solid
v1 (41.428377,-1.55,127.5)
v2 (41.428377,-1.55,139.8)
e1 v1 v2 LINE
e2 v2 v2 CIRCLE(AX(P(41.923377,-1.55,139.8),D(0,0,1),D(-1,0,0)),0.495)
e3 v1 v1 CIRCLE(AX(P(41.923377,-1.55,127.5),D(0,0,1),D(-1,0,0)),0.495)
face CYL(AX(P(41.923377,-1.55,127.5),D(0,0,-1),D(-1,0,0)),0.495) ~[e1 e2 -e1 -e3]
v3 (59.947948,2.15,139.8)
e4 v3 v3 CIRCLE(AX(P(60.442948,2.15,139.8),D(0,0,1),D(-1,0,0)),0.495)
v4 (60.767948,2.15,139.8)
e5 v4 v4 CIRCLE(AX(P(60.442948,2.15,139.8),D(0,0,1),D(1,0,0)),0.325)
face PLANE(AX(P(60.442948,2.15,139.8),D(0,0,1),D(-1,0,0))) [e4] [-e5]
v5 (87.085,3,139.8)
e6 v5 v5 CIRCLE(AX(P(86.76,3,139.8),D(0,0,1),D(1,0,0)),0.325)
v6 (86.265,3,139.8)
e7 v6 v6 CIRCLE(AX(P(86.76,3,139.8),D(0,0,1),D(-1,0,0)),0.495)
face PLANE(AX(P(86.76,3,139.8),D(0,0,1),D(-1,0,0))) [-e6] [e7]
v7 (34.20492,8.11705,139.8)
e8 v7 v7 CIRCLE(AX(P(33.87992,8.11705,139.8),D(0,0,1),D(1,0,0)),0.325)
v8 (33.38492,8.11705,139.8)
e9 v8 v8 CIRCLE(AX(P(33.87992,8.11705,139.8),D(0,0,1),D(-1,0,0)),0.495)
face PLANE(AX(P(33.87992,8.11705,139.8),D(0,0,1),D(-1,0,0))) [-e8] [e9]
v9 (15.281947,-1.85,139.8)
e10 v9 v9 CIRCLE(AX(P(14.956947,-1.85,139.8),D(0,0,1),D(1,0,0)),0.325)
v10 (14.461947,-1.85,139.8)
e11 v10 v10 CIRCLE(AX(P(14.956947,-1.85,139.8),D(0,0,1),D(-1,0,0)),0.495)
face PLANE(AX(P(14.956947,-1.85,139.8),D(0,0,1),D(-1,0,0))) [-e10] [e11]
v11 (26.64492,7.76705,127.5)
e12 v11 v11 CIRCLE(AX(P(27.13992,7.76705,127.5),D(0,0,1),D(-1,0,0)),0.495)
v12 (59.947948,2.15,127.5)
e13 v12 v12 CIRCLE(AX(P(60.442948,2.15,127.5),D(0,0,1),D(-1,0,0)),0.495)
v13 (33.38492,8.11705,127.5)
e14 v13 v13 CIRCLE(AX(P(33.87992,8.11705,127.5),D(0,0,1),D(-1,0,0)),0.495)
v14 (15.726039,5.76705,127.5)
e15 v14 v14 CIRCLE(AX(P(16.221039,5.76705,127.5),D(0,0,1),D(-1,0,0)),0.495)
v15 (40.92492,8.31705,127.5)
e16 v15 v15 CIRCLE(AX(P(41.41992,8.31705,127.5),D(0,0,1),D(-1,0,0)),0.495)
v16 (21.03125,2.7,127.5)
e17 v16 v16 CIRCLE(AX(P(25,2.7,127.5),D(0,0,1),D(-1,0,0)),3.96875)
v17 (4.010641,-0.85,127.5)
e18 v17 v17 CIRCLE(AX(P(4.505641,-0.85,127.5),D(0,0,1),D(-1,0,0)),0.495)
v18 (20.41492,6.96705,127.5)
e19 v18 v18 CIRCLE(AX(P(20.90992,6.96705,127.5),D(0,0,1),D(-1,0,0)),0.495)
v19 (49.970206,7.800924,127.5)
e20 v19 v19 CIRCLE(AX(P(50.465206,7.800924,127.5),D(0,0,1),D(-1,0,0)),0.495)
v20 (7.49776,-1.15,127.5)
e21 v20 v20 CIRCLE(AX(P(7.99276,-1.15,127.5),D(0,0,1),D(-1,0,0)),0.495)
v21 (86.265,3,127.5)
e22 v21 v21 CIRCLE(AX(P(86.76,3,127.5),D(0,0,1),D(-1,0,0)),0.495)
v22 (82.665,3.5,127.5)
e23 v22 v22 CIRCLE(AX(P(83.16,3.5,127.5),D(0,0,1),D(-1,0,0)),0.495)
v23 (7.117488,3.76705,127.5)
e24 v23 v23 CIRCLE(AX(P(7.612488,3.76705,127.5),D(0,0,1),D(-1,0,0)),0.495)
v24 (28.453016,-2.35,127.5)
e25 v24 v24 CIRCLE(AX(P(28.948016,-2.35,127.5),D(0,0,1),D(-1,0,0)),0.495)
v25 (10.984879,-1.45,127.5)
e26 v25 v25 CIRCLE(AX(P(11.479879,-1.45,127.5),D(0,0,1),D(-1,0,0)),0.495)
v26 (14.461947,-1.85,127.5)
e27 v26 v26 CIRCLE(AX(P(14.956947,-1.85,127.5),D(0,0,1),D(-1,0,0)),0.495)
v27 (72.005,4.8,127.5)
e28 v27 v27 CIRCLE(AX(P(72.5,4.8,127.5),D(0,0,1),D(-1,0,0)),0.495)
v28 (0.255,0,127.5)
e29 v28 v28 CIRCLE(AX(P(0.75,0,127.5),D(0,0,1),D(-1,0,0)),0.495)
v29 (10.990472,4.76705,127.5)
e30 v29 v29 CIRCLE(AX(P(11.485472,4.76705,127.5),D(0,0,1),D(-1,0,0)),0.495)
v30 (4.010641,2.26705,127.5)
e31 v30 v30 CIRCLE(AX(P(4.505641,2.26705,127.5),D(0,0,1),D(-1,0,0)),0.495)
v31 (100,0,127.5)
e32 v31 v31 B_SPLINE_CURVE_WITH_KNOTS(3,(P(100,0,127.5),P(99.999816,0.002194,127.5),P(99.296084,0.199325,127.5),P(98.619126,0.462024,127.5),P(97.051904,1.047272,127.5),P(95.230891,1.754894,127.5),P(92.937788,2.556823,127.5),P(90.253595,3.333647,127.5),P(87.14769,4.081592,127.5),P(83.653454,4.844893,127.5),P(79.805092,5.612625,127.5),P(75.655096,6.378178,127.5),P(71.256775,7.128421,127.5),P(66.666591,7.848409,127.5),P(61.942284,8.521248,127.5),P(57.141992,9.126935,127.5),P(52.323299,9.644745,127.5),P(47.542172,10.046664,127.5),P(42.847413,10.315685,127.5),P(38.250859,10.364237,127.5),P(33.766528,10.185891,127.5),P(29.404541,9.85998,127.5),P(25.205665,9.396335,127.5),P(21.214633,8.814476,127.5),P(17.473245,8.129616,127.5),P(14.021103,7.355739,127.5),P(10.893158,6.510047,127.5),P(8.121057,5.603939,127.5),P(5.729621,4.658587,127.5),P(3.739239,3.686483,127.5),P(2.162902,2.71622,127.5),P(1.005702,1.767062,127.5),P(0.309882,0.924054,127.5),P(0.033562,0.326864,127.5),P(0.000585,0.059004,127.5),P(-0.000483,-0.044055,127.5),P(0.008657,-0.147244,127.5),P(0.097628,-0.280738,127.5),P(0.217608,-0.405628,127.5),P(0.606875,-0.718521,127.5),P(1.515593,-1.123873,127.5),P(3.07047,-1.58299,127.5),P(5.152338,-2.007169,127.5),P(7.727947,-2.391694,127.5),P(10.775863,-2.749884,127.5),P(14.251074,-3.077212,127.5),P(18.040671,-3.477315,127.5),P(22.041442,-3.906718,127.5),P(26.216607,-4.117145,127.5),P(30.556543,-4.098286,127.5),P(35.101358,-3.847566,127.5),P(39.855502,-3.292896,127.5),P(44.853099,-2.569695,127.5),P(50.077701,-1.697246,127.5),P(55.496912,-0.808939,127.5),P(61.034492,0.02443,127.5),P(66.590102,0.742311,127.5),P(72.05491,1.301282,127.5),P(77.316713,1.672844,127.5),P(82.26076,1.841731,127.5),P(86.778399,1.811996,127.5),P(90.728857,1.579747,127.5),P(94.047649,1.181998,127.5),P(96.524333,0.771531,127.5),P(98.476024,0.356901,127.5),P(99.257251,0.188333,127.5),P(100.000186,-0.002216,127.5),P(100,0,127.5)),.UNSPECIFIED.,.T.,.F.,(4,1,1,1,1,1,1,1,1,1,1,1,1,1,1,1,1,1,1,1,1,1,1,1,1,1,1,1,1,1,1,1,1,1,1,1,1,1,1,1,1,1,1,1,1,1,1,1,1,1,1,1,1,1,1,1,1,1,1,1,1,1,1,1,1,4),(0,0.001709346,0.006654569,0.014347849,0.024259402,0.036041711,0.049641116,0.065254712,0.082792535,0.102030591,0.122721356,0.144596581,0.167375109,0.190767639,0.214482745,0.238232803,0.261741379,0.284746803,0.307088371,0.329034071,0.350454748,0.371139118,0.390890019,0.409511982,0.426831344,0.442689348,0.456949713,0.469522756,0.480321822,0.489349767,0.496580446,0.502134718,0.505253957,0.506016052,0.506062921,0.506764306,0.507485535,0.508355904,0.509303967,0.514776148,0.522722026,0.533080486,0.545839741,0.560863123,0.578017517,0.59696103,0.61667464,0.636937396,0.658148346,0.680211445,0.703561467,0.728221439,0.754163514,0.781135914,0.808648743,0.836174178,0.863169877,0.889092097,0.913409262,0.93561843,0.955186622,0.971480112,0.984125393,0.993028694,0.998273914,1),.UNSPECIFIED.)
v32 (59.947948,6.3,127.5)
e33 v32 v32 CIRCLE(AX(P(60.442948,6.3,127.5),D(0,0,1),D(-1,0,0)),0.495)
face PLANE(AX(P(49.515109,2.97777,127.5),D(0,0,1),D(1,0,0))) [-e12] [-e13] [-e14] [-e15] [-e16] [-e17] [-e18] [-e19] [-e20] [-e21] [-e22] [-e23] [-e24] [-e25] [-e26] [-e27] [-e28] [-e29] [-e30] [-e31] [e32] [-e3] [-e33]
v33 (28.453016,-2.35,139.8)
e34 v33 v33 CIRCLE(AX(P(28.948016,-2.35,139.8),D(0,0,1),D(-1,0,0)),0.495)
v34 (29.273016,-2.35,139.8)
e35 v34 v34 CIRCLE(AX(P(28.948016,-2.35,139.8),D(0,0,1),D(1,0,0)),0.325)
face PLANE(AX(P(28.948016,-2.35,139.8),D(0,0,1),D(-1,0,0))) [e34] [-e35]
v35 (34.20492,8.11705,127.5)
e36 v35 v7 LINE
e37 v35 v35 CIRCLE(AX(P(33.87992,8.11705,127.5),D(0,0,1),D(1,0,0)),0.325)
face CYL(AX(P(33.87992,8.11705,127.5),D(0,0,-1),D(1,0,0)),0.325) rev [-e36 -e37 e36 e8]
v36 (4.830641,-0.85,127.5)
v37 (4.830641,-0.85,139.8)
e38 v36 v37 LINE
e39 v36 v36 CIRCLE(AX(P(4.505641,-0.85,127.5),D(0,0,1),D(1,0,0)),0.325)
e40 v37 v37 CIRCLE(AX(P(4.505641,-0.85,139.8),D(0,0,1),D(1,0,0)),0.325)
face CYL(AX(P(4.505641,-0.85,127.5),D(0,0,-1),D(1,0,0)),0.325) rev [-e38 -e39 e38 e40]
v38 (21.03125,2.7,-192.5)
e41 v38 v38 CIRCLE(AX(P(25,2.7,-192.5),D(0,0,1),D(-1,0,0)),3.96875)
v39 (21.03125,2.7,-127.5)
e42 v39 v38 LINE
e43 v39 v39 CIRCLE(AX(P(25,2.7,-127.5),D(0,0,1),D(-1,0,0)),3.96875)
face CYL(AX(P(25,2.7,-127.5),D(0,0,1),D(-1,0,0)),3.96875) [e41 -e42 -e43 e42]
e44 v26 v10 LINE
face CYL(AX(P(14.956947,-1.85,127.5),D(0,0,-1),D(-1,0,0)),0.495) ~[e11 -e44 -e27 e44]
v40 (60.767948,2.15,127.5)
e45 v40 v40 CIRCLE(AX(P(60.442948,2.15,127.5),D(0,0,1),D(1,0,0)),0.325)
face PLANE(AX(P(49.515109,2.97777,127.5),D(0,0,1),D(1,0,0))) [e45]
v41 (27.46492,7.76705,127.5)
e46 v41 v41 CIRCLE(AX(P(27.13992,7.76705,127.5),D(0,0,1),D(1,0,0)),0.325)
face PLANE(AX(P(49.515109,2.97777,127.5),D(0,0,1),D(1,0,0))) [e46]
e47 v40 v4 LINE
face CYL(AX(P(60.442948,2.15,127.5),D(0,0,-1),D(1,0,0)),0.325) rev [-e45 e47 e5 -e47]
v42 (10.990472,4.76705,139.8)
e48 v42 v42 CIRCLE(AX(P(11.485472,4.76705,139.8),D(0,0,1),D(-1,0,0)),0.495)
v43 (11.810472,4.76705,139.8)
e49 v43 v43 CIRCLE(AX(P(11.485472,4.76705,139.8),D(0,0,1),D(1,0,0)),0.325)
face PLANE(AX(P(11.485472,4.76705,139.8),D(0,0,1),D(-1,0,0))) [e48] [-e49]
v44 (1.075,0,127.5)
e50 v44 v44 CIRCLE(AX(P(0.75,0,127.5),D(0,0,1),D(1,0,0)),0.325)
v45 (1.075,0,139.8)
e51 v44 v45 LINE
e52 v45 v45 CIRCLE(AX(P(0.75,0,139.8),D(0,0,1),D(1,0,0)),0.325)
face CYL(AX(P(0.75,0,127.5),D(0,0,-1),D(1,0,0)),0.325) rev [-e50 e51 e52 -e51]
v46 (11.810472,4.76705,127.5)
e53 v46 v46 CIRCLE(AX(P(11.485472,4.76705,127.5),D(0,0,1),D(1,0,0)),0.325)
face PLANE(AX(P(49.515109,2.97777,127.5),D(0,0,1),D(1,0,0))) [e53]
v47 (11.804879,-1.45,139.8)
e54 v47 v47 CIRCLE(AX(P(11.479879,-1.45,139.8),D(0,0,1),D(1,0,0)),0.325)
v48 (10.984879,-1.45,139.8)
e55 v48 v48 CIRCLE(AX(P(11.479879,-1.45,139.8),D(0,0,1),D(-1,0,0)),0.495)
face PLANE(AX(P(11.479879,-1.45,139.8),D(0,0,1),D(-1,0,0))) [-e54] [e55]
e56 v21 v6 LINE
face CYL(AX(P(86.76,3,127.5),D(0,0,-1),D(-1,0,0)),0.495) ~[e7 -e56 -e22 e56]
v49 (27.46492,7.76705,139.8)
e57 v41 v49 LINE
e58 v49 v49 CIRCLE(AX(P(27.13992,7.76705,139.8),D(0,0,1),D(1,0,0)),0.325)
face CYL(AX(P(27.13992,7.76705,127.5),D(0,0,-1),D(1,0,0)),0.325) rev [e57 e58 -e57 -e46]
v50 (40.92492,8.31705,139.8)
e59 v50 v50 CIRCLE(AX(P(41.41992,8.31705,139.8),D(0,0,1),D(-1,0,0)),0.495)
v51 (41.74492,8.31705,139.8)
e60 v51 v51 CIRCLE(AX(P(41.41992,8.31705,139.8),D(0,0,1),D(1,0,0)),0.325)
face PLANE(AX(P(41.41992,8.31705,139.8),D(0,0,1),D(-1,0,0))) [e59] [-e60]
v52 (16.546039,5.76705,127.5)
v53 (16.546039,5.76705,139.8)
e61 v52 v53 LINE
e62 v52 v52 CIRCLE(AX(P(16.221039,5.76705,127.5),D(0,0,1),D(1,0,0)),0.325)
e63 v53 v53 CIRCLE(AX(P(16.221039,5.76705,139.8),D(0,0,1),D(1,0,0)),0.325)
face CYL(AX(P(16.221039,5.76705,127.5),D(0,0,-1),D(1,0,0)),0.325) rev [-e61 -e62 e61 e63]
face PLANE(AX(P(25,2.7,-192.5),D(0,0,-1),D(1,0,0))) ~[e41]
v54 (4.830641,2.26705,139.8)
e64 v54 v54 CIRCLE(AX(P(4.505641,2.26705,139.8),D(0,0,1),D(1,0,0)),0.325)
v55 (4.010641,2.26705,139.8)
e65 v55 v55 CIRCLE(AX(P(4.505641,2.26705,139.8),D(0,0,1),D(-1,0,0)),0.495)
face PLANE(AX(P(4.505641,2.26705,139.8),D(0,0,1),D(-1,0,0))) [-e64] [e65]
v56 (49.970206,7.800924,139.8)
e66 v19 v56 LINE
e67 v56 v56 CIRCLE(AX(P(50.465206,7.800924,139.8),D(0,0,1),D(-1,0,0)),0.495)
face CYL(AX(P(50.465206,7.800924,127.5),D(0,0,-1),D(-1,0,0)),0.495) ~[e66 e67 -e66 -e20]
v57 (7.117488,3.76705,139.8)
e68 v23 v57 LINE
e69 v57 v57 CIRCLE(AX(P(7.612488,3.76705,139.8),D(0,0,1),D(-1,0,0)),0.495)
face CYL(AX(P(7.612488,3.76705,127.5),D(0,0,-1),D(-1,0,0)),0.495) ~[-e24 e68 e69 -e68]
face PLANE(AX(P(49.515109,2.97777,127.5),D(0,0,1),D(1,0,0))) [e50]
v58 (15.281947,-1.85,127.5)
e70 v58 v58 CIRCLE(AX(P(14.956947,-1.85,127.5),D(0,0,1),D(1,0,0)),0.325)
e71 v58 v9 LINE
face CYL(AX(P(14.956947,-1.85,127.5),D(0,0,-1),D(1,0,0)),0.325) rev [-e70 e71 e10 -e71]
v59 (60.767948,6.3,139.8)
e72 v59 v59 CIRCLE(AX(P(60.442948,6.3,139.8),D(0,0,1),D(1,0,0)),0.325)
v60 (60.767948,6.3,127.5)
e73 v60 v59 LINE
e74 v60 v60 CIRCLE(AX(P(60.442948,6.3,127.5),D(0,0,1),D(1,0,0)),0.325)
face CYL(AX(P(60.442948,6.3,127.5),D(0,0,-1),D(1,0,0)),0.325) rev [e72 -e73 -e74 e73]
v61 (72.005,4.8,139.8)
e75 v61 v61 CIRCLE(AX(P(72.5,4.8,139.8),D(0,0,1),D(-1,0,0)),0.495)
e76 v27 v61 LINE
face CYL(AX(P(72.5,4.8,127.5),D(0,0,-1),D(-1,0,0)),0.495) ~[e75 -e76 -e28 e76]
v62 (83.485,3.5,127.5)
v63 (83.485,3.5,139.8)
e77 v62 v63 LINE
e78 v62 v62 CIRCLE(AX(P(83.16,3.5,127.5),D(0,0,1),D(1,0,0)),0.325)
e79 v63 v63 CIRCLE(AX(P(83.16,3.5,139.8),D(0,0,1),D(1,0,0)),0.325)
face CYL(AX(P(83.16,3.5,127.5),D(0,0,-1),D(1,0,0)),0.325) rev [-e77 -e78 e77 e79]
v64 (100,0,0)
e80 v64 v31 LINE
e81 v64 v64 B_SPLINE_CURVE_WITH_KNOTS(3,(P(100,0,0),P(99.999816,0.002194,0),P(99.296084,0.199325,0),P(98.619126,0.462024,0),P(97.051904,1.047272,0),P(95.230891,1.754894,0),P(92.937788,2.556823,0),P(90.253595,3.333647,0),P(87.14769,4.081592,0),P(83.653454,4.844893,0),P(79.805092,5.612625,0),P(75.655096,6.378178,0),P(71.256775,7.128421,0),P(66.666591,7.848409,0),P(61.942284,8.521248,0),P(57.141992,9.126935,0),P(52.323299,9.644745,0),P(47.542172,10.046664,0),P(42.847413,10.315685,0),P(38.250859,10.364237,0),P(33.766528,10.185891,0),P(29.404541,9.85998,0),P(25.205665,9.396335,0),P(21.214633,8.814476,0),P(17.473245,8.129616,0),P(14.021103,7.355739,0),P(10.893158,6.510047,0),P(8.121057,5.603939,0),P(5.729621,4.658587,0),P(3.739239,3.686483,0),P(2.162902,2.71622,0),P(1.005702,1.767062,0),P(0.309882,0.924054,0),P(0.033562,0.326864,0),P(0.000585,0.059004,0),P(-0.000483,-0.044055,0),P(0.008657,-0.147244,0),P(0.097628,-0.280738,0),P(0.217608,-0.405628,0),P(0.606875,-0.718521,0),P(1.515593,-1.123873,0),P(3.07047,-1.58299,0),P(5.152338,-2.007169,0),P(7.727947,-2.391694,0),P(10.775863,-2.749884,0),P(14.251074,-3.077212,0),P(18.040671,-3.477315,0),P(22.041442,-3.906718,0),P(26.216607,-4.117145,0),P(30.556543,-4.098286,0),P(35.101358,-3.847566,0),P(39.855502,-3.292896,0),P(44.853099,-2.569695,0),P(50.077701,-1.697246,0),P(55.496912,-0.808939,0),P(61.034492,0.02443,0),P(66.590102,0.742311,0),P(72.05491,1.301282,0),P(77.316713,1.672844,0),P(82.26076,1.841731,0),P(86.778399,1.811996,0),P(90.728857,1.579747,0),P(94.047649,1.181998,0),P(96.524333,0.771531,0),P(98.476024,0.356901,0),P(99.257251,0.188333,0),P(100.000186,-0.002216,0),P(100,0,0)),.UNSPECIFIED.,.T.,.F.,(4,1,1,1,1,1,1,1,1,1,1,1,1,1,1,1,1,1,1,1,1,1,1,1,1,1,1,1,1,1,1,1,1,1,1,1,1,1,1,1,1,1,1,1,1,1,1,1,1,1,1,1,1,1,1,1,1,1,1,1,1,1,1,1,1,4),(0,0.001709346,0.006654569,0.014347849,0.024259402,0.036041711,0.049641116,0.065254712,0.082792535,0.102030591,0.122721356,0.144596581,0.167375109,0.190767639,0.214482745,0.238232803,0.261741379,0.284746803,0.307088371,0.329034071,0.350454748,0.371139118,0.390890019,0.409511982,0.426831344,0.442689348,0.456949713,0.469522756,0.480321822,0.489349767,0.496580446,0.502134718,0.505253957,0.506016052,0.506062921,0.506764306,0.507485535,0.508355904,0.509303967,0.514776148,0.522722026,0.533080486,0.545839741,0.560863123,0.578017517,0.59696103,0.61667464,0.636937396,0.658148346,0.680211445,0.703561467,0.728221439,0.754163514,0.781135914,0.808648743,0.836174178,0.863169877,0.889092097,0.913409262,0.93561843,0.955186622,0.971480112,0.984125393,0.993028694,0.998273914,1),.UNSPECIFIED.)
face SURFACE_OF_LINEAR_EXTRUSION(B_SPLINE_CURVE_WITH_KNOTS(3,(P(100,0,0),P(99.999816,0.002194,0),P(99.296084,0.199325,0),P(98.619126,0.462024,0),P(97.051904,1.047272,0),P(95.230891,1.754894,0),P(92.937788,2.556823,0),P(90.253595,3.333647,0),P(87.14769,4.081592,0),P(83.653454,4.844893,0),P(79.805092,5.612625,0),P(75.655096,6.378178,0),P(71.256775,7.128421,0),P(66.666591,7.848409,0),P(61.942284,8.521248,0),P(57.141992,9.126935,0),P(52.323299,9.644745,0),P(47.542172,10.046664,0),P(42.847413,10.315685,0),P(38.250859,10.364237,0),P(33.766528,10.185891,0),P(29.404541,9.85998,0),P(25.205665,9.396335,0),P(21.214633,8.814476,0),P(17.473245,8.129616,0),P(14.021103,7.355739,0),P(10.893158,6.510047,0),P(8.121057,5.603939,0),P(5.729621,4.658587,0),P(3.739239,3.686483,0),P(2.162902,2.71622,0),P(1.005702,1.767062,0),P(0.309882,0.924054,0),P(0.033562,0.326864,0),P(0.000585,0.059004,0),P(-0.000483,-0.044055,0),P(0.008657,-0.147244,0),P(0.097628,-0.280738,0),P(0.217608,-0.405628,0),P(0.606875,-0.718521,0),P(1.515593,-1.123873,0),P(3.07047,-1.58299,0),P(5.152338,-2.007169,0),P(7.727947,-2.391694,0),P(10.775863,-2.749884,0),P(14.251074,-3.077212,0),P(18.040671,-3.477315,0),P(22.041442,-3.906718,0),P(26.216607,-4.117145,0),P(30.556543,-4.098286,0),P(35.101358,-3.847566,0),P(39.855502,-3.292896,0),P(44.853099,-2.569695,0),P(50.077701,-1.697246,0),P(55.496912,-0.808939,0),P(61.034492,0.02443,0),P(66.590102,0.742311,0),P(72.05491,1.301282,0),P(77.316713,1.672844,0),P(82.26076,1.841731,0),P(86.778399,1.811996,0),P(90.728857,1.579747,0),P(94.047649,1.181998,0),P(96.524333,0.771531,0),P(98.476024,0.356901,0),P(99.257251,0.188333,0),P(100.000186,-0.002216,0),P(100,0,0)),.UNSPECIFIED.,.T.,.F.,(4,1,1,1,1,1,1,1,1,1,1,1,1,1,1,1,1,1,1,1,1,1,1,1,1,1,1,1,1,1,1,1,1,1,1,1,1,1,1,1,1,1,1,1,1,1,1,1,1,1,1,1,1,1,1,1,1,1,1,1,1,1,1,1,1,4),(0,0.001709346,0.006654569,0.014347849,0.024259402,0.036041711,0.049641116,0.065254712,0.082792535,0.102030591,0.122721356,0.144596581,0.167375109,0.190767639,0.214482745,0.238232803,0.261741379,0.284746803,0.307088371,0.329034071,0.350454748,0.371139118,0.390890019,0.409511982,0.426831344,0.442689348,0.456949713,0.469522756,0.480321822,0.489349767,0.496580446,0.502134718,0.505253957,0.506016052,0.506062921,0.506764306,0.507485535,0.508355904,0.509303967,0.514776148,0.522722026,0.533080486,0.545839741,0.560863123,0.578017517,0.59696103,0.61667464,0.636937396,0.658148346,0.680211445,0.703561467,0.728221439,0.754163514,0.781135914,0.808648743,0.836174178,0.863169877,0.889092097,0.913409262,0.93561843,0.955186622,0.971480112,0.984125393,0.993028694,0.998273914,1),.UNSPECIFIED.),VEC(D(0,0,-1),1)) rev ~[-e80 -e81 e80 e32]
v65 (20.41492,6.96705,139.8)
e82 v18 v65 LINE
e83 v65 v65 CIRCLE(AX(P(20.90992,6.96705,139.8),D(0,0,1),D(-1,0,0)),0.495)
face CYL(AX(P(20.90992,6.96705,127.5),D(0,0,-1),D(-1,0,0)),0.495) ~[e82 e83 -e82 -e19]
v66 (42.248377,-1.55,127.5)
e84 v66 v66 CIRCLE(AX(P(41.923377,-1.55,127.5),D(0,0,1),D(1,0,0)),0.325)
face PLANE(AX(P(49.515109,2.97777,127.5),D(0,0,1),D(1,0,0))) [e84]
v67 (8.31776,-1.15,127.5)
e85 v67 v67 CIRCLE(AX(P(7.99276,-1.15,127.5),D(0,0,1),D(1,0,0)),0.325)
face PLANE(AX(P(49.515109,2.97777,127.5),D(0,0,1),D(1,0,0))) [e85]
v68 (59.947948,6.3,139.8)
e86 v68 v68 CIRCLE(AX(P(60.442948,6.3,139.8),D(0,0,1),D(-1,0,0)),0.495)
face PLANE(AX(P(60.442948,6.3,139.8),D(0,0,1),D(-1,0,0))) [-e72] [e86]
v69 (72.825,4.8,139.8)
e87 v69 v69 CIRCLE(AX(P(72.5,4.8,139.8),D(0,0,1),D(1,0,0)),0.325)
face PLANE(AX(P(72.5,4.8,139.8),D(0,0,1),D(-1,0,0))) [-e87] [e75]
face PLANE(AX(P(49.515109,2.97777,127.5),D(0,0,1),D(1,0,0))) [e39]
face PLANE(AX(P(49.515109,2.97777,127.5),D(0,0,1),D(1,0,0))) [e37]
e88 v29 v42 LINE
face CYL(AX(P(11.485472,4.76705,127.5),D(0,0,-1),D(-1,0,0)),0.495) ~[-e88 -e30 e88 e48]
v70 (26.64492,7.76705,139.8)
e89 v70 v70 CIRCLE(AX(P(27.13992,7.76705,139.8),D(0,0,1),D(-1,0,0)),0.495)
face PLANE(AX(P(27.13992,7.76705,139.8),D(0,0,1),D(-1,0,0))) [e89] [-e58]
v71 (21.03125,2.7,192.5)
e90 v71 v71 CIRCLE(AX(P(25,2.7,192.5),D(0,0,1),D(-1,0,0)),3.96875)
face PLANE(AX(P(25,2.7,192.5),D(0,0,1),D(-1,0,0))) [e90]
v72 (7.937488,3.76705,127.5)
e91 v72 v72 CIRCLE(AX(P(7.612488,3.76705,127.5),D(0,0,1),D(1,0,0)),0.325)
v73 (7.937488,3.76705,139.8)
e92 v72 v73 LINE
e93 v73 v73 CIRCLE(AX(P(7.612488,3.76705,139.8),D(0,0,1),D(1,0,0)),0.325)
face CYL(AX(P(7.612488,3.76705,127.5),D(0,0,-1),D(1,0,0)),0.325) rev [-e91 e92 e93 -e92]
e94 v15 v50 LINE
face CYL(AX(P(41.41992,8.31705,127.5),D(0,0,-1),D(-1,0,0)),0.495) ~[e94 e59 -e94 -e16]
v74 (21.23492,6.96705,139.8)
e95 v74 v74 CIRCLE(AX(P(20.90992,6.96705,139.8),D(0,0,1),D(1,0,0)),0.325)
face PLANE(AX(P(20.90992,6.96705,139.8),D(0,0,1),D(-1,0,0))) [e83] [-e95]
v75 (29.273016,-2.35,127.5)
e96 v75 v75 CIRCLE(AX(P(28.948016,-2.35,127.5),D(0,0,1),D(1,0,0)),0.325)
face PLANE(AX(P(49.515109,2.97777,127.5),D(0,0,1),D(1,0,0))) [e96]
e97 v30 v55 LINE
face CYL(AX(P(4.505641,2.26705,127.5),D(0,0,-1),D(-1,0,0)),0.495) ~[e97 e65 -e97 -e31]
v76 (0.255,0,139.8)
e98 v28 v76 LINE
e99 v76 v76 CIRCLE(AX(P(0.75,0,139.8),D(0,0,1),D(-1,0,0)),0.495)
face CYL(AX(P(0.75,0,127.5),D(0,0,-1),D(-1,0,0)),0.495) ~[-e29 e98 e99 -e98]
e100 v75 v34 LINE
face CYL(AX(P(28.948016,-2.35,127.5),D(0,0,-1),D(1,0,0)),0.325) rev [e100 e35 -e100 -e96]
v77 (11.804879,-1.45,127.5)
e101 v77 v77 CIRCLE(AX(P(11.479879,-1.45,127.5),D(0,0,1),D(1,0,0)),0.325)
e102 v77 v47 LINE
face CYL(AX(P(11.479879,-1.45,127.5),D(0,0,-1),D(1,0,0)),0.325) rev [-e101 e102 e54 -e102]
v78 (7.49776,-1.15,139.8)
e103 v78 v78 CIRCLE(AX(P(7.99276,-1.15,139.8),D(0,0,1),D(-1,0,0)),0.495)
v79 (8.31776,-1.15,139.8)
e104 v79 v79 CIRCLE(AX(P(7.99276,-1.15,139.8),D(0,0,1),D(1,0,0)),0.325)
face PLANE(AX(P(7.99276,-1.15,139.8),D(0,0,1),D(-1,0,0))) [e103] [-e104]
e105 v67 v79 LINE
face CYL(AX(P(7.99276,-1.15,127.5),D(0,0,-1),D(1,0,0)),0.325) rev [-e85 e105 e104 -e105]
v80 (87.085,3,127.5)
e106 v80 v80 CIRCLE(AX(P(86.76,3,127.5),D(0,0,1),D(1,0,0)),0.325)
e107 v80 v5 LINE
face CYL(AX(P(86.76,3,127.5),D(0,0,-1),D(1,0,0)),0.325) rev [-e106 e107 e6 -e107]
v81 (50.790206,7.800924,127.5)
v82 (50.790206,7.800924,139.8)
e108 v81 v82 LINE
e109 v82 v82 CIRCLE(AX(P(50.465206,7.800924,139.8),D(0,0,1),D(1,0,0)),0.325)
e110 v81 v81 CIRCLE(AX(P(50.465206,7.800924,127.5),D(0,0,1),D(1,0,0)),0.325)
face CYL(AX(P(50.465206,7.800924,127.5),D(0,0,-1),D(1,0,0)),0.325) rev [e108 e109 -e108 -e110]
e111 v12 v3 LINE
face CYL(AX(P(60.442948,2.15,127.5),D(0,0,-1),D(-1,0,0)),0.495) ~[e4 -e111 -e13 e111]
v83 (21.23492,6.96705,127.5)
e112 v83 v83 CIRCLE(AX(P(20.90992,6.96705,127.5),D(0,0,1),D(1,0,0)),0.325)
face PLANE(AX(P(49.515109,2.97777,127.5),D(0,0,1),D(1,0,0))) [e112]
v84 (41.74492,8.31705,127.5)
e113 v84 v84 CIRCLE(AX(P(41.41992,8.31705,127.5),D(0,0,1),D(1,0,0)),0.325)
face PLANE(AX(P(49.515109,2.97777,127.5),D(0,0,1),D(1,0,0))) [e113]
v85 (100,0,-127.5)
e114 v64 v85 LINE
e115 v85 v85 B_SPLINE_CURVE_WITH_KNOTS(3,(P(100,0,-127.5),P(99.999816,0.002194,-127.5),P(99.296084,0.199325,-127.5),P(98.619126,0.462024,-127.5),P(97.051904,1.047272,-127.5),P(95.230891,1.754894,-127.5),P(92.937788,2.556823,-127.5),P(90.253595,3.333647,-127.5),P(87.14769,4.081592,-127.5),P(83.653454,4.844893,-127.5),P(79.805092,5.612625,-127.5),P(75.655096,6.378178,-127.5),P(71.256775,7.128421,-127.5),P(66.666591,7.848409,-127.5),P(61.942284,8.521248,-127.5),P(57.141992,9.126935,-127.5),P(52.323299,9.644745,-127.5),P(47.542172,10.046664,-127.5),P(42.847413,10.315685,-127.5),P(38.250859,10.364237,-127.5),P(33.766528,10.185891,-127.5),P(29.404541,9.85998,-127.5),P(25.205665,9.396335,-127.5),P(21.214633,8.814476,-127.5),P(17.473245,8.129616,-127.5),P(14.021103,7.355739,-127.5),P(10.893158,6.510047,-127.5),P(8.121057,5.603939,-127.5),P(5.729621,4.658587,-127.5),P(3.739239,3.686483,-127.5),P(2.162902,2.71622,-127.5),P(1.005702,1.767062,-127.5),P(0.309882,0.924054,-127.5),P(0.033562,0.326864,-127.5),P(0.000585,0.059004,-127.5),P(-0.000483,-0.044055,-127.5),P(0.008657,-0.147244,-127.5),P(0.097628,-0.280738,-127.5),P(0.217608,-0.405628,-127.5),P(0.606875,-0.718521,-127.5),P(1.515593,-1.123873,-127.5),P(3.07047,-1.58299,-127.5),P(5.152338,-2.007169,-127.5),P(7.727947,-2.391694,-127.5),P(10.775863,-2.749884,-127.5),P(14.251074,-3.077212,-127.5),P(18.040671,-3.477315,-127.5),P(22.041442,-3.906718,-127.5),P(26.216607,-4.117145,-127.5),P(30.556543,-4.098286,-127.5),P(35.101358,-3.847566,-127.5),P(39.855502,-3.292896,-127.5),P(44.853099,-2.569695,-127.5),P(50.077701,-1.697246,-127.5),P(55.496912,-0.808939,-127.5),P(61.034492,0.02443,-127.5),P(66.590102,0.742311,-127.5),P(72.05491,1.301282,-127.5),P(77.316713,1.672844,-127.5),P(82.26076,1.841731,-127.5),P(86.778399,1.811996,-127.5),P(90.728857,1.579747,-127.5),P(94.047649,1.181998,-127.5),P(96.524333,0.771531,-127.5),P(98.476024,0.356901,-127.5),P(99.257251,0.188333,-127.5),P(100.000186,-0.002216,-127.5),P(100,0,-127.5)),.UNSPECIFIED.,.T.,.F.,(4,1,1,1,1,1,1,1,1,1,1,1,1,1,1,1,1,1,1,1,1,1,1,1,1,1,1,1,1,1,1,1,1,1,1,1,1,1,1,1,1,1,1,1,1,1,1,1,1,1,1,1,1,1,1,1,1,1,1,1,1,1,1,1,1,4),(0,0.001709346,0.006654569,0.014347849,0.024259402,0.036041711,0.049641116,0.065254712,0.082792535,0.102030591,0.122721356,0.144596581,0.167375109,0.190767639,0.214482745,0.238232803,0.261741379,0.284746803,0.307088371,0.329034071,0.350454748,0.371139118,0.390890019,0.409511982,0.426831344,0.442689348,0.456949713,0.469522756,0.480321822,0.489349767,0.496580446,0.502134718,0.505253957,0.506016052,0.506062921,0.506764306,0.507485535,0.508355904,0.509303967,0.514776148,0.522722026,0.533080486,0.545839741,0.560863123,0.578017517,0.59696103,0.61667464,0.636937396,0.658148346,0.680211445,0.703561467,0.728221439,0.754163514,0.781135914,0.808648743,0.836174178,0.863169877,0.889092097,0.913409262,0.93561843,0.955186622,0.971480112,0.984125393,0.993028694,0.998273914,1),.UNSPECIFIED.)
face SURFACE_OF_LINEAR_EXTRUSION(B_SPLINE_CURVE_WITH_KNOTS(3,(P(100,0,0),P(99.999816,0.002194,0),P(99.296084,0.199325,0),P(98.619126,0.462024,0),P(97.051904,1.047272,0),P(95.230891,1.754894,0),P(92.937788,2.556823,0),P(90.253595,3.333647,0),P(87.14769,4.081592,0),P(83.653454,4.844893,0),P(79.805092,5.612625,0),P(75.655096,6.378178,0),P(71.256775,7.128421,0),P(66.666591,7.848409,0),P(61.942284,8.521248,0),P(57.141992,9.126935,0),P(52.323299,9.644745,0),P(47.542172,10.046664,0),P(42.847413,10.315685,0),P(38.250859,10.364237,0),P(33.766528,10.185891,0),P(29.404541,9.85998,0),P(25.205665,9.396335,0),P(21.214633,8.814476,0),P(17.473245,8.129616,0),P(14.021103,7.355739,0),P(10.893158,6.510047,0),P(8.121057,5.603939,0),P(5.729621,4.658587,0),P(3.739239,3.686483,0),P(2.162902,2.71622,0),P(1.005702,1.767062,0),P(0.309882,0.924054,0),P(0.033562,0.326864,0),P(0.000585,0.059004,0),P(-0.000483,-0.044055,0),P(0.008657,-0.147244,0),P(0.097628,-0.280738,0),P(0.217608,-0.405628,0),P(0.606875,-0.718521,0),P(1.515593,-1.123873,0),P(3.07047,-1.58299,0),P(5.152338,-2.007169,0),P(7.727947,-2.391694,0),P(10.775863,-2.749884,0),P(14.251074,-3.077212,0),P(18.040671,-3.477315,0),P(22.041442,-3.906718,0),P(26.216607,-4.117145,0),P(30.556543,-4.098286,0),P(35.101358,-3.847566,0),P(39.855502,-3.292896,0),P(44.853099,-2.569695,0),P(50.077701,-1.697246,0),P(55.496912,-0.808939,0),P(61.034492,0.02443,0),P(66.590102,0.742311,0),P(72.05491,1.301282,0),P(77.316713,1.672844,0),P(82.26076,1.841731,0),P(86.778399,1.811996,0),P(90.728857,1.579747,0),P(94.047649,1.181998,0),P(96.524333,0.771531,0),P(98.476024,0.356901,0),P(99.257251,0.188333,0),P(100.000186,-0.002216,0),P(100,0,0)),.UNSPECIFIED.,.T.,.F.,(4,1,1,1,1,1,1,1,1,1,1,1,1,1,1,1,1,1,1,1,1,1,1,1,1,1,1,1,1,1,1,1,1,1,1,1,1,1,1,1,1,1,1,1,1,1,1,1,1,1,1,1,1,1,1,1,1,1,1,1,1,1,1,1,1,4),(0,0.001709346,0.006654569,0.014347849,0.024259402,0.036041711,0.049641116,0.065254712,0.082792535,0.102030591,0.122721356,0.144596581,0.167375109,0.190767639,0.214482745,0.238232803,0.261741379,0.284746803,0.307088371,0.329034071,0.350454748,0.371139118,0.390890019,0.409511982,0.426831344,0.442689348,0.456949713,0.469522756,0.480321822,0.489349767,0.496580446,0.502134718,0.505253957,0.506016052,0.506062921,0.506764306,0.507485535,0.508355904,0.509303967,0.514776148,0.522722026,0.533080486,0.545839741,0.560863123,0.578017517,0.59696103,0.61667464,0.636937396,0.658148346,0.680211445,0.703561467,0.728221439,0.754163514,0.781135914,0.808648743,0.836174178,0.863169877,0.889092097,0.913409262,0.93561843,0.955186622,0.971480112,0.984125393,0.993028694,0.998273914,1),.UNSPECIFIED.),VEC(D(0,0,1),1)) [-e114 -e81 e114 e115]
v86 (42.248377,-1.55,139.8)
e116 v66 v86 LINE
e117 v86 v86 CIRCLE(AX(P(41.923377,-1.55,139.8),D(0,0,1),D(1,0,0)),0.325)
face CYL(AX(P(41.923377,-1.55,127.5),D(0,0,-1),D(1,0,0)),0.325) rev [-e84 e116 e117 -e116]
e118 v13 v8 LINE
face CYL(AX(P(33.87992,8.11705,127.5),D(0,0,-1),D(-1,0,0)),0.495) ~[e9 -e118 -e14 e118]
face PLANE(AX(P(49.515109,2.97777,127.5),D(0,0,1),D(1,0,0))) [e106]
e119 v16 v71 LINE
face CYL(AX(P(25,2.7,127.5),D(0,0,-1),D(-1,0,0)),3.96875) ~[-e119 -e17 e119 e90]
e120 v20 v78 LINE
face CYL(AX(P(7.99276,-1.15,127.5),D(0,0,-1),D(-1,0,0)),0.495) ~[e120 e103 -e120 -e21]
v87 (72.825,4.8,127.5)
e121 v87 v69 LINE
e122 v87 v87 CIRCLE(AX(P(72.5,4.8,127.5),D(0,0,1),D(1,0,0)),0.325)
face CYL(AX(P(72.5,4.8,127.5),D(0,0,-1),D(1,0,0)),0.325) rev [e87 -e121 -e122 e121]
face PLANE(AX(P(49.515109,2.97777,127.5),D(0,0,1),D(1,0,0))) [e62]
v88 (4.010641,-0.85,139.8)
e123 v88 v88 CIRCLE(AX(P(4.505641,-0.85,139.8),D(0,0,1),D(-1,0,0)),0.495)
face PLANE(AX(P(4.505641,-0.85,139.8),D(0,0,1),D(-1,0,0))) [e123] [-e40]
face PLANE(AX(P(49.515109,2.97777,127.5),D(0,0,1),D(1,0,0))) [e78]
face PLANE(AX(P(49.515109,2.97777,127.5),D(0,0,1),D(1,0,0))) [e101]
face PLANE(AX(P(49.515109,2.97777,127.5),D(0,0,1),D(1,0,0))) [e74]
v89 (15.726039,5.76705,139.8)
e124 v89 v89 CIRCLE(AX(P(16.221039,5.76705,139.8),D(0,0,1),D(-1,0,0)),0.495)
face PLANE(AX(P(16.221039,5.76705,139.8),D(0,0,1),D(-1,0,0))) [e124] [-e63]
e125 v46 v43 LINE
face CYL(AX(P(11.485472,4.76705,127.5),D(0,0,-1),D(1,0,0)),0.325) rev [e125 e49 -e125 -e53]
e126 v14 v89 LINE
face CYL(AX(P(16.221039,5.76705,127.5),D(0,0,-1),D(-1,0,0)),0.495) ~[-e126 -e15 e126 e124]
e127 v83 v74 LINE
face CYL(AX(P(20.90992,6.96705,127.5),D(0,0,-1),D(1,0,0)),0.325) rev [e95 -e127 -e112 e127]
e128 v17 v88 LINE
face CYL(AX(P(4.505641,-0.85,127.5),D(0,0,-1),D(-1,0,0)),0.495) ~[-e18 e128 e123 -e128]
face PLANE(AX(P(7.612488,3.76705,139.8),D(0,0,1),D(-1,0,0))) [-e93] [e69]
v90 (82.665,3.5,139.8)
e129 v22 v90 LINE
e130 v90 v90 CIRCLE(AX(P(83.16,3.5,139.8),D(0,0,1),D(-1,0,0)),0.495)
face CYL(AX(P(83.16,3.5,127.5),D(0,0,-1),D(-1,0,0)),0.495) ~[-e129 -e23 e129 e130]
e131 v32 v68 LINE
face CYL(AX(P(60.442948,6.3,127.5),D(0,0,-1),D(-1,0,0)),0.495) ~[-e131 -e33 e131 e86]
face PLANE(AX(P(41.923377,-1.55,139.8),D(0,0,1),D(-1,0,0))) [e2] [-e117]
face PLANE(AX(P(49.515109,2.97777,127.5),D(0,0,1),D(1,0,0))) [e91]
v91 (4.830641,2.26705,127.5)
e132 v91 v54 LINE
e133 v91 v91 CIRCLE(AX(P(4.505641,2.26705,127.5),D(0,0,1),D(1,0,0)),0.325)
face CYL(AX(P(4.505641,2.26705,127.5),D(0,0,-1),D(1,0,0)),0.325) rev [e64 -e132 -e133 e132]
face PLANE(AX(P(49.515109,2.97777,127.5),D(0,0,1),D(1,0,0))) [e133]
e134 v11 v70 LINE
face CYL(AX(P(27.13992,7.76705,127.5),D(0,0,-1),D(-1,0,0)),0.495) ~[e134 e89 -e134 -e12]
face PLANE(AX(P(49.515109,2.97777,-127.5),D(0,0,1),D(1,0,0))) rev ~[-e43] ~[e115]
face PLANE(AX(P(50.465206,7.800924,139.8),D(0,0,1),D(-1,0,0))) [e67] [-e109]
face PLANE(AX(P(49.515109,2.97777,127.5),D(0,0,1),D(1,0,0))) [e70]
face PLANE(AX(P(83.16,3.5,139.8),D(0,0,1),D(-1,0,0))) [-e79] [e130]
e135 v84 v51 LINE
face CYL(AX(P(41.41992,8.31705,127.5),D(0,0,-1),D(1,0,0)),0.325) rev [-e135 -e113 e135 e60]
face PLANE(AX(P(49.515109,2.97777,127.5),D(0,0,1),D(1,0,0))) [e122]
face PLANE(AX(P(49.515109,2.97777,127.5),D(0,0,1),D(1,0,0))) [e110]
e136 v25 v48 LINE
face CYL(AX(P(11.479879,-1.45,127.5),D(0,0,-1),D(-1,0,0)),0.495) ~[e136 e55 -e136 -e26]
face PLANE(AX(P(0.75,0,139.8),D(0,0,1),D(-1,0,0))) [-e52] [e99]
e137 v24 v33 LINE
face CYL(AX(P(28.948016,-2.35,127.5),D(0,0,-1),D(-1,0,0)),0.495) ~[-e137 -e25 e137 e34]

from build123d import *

# Parameters (mm, degrees)
BOSS_EXTRUDE12_DEPTH = 127.5
SKETCH5_R            = 3.96875
BOSS_EXTRUDE13_DEPTH = 65
SKETCH6_R            = 0.495
SKETCH6_R_2          = 0.325
BOSS_EXTRUDE14_DEPTH = 12.3


with BuildPart() as part:
    # Sketch4 → Boss-Extrude12 (new, symmetric)
    with BuildSketch(Plane.XY):
        with BuildLine():
            add(Edge.make_bspline(
                [(100, 0), (99.999815651, 0.00219446), (99.296084263, 0.199325454), (98.61912609, 0.462023876), (97.051903925, 1.047271604), (95.230890561, 1.754893562), (92.9377884, 2.556822624), (90.25359521, 3.333646696), (87.14769009, 4.081591717), (83.653453523, 4.844892949), (79.805092278, 5.612624789), (75.655096387, 6.378178082), (71.256775037, 7.128421187), (66.666591084, 7.848408623), (61.942283988, 8.521247582), (57.141991664, 9.126935326), (52.323298642, 9.644744891), (47.542171635, 10.046664095), (42.847412803, 10.315684788), (38.250859013, 10.364237329), (33.766527631, 10.18589116), (29.404540771, 9.859979537), (25.205664918, 9.396335122), (21.214632991, 8.814476405), (17.473244617, 8.129616096), (14.021102758, 7.355738731), (10.893158298, 6.510046925), (8.121057405, 5.603939), (5.729621281, 4.65858742), (3.739238835, 3.686482523), (2.162902466, 2.71622035), (1.005702209, 1.767062286), (0.309881961, 0.924053983), (0.033562392, 0.326864353), (0.000585058, 0.059003832), (-0.000483325, -0.044055324), (0.008656559, -0.147243843), (0.097628215, -0.280738124), (0.217608326, -0.405627954), (0.606875055, -0.718520627), (1.515593418, -1.12387328), (3.070469813, -1.582990093), (5.152338499, -2.007169493), (7.727947017, -2.391694307), (10.775863297, -2.749884099), (14.2510745, -3.07721248), (18.040671125, -3.477315031), (22.041442034, -3.906718484), (26.216607049, -4.117145276), (30.556543108, -4.098285525), (35.101357612, -3.847566364), (39.855502399, -3.292896418), (44.853099151, -2.569694917), (50.077701264, -1.697246438), (55.496912305, -0.808938969), (61.034492206, 0.024429539), (66.590101657, 0.742311194), (72.054909857, 1.301282359), (77.316713376, 1.672844408), (82.260760219, 1.841731341), (86.778399144, 1.811995519), (90.728856588, 1.57974732), (94.04764875, 1.181997505), (96.524332979, 0.771531232), (98.476024493, 0.356901303), (99.25725067, 0.188333084), (100.000186154, -0.002215951), (100, 0)],
                knots=[0, 0, 0, 0, 0.001709346, 0.006654569, 0.014347849, 0.024259402, 0.036041711, 0.049641116, 0.065254712, 0.082792535, 0.102030591, 0.122721356, 0.144596581, 0.167375109, 0.190767639, 0.214482745, 0.238232803, 0.261741379, 0.284746803, 0.307088371, 0.329034071, 0.350454748, 0.371139118, 0.390890019, 0.409511982, 0.426831344, 0.442689348, 0.456949713, 0.469522756, 0.480321822, 0.489349767, 0.496580446, 0.502134718, 0.505253957, 0.506016052, 0.506062921, 0.506764306, 0.507485535, 0.508355904, 0.509303967, 0.514776148, 0.522722026, 0.533080486, 0.545839741, 0.560863123, 0.578017517, 0.59696103, 0.61667464, 0.636937396, 0.658148346, 0.680211445, 0.703561467, 0.728221439, 0.754163514, 0.781135914, 0.808648743, 0.836174178, 0.863169877, 0.889092097, 0.913409262, 0.93561843, 0.955186622, 0.971480112, 0.984125393, 0.993028694, 0.998273914, 1, 1, 1, 1], degree=3))
        make_face()
    extrude(amount=BOSS_EXTRUDE12_DEPTH, both=True)

    # Sketch5 → Boss-Extrude13 (add)
    with BuildSketch(Plane.XY.offset(127.5)):
        with Locations(Location((25, 2.7, 0), (0, 0, 180))):
            Circle(SKETCH5_R)
    boss_extrude13 = extrude(amount=BOSS_EXTRUDE13_DEPTH)

    # Mirror1: Boss-Extrude13 across plane
    add(boss_extrude13.mirror(Plane.XY))

    # Sketch6 → Boss-Extrude14 (add)
    # profile 1 of 21: a face of its own
    with BuildSketch(Plane.XY.offset(127.5)):
        with Locations(Location((0.75, 0, 0), (0, 0, 180))):
            Circle(SKETCH6_R)
        with Locations((0.75, 0)):
            Circle(SKETCH6_R_2, mode=Mode.SUBTRACT)
    # profile 2 of 21: a face of its own
    with BuildSketch(Plane.XY.offset(127.5)):
        with Locations(Location((86.76, 3, 0), (0, 0, 180))):
            Circle(SKETCH6_R)
        with Locations((86.76, 3)):
            Circle(SKETCH6_R_2, mode=Mode.SUBTRACT)
    # profile 3 of 21: a face of its own
    with BuildSketch(Plane.XY.offset(127.5)):
        with Locations(Location((83.16, 3.5, 0), (0, 0, 180))):
            Circle(SKETCH6_R)
        with Locations((83.16, 3.5)):
            Circle(SKETCH6_R_2, mode=Mode.SUBTRACT)
    # profile 4 of 21: a face of its own
    with BuildSketch(Plane.XY.offset(127.5)):
        with Locations(Location((72.5, 4.8, 0), (0, 0, 180))):
            Circle(SKETCH6_R)
        with Locations((72.5, 4.8)):
            Circle(SKETCH6_R_2, mode=Mode.SUBTRACT)
    # profile 5 of 21: a face of its own
    with BuildSketch(Plane.XY.offset(127.5)):
        with Locations(Location((60.442948122, 6.3, 0), (0, 0, 180))):
            Circle(SKETCH6_R)
        with Locations((60.442948122, 6.3)):
            Circle(SKETCH6_R_2, mode=Mode.SUBTRACT)
    # profile 6 of 21: a face of its own
    with BuildSketch(Plane.XY.offset(127.5)):
        with Locations(Location((60.442948122, 2.15, 0), (0, 0, 180))):
            Circle(SKETCH6_R)
        with Locations((60.442948122, 2.15)):
            Circle(SKETCH6_R_2, mode=Mode.SUBTRACT)
    # profile 7 of 21: a face of its own
    with BuildSketch(Plane.XY.offset(127.5)):
        with Locations(Location((50.465206467, 7.80092354, 0), (0, 0, 180))):
            Circle(SKETCH6_R)
        with Locations((50.465206467, 7.80092354)):
            Circle(SKETCH6_R_2, mode=Mode.SUBTRACT)
    # profile 8 of 21: a face of its own
    with BuildSketch(Plane.XY.offset(127.5)):
        with Locations(Location((41.41991965, 8.317049878, 0), (0, 0, 180))):
            Circle(SKETCH6_R)
        with Locations((41.41991965, 8.317049878)):
            Circle(SKETCH6_R_2, mode=Mode.SUBTRACT)
    # profile 9 of 21: a face of its own
    with BuildSketch(Plane.XY.offset(127.5)):
        with Locations(Location((33.87991965, 8.117049878, 0), (0, 0, 180))):
            Circle(SKETCH6_R)
        with Locations((33.87991965, 8.117049878)):
            Circle(SKETCH6_R_2, mode=Mode.SUBTRACT)
    # profile 10 of 21: a face of its own
    with BuildSketch(Plane.XY.offset(127.5)):
        with Locations(Location((27.13991965, 7.767049878, 0), (0, 0, 180))):
            Circle(SKETCH6_R)
        with Locations((27.13991965, 7.767049878)):
            Circle(SKETCH6_R_2, mode=Mode.SUBTRACT)
    # profile 11 of 21: a face of its own
    with BuildSketch(Plane.XY.offset(127.5)):
        with Locations(Location((20.90991965, 6.967049878, 0), (0, 0, 180))):
            Circle(SKETCH6_R)
        with Locations((20.90991965, 6.967049878)):
            Circle(SKETCH6_R_2, mode=Mode.SUBTRACT)
    # profile 12 of 21: a face of its own
    with BuildSketch(Plane.XY.offset(127.5)):
        with Locations(Location((16.221039186, 5.767049878, 0), (0, 0, 180))):
            Circle(SKETCH6_R)
        with Locations((16.221039186, 5.767049878)):
            Circle(SKETCH6_R_2, mode=Mode.SUBTRACT)
    # profile 13 of 21: a face of its own
    with BuildSketch(Plane.XY.offset(127.5)):
        with Locations(Location((11.485471639, 4.767049878, 0), (0, 0, 180))):
            Circle(SKETCH6_R)
        with Locations((11.485471639, 4.767049878)):
            Circle(SKETCH6_R_2, mode=Mode.SUBTRACT)
    # profile 14 of 21: a face of its own
    with BuildSketch(Plane.XY.offset(127.5)):
        with Locations(Location((7.612488292, 3.767049878, 0), (0, 0, 180))):
            Circle(SKETCH6_R)
        with Locations((7.612488292, 3.767049878)):
            Circle(SKETCH6_R_2, mode=Mode.SUBTRACT)
    # profile 15 of 21: a face of its own
    with BuildSketch(Plane.XY.offset(127.5)):
        with Locations(Location((4.505641016, 2.267049878, 0), (0, 0, 180))):
            Circle(SKETCH6_R)
        with Locations((4.505641016, 2.267049878)):
            Circle(SKETCH6_R_2, mode=Mode.SUBTRACT)
    # profile 16 of 21: a face of its own
    with BuildSketch(Plane.XY.offset(127.5)):
        with Locations(Location((4.505641016, -0.85, 0), (0, 0, 180))):
            Circle(SKETCH6_R)
        with Locations((4.505641016, -0.85)):
            Circle(SKETCH6_R_2, mode=Mode.SUBTRACT)
    # profile 17 of 21: a face of its own
    with BuildSketch(Plane.XY.offset(127.5)):
        with Locations(Location((7.992760171, -1.15, 0), (0, 0, 180))):
            Circle(SKETCH6_R)
        with Locations((7.992760171, -1.15)):
            Circle(SKETCH6_R_2, mode=Mode.SUBTRACT)
    # profile 18 of 21: a face of its own
    with BuildSketch(Plane.XY.offset(127.5)):
        with Locations(Location((11.479879325, -1.45, 0), (0, 0, 180))):
            Circle(SKETCH6_R)
        with Locations((11.479879325, -1.45)):
            Circle(SKETCH6_R_2, mode=Mode.SUBTRACT)
    # profile 19 of 21: a face of its own
    with BuildSketch(Plane.XY.offset(127.5)):
        with Locations(Location((14.956947056, -1.85, 0), (0, 0, 180))):
            Circle(SKETCH6_R)
        with Locations((14.956947056, -1.85)):
            Circle(SKETCH6_R_2, mode=Mode.SUBTRACT)
    # profile 20 of 21: a face of its own
    with BuildSketch(Plane.XY.offset(127.5)):
        with Locations(Location((28.948015635, -2.35, 0), (0, 0, 180))):
            Circle(SKETCH6_R)
        with Locations((28.948015635, -2.35)):
            Circle(SKETCH6_R_2, mode=Mode.SUBTRACT)
    # profile 21 of 21: a face of its own
    with BuildSketch(Plane.XY.offset(127.5)):
        with Locations(Location((41.923376902, -1.55, 0), (0, 0, 180))):
            Circle(SKETCH6_R)
        with Locations((41.923376902, -1.55)):
            Circle(SKETCH6_R_2, mode=Mode.SUBTRACT)
    extrude(amount=BOSS_EXTRUDE14_DEPTH)


solid = part.part
